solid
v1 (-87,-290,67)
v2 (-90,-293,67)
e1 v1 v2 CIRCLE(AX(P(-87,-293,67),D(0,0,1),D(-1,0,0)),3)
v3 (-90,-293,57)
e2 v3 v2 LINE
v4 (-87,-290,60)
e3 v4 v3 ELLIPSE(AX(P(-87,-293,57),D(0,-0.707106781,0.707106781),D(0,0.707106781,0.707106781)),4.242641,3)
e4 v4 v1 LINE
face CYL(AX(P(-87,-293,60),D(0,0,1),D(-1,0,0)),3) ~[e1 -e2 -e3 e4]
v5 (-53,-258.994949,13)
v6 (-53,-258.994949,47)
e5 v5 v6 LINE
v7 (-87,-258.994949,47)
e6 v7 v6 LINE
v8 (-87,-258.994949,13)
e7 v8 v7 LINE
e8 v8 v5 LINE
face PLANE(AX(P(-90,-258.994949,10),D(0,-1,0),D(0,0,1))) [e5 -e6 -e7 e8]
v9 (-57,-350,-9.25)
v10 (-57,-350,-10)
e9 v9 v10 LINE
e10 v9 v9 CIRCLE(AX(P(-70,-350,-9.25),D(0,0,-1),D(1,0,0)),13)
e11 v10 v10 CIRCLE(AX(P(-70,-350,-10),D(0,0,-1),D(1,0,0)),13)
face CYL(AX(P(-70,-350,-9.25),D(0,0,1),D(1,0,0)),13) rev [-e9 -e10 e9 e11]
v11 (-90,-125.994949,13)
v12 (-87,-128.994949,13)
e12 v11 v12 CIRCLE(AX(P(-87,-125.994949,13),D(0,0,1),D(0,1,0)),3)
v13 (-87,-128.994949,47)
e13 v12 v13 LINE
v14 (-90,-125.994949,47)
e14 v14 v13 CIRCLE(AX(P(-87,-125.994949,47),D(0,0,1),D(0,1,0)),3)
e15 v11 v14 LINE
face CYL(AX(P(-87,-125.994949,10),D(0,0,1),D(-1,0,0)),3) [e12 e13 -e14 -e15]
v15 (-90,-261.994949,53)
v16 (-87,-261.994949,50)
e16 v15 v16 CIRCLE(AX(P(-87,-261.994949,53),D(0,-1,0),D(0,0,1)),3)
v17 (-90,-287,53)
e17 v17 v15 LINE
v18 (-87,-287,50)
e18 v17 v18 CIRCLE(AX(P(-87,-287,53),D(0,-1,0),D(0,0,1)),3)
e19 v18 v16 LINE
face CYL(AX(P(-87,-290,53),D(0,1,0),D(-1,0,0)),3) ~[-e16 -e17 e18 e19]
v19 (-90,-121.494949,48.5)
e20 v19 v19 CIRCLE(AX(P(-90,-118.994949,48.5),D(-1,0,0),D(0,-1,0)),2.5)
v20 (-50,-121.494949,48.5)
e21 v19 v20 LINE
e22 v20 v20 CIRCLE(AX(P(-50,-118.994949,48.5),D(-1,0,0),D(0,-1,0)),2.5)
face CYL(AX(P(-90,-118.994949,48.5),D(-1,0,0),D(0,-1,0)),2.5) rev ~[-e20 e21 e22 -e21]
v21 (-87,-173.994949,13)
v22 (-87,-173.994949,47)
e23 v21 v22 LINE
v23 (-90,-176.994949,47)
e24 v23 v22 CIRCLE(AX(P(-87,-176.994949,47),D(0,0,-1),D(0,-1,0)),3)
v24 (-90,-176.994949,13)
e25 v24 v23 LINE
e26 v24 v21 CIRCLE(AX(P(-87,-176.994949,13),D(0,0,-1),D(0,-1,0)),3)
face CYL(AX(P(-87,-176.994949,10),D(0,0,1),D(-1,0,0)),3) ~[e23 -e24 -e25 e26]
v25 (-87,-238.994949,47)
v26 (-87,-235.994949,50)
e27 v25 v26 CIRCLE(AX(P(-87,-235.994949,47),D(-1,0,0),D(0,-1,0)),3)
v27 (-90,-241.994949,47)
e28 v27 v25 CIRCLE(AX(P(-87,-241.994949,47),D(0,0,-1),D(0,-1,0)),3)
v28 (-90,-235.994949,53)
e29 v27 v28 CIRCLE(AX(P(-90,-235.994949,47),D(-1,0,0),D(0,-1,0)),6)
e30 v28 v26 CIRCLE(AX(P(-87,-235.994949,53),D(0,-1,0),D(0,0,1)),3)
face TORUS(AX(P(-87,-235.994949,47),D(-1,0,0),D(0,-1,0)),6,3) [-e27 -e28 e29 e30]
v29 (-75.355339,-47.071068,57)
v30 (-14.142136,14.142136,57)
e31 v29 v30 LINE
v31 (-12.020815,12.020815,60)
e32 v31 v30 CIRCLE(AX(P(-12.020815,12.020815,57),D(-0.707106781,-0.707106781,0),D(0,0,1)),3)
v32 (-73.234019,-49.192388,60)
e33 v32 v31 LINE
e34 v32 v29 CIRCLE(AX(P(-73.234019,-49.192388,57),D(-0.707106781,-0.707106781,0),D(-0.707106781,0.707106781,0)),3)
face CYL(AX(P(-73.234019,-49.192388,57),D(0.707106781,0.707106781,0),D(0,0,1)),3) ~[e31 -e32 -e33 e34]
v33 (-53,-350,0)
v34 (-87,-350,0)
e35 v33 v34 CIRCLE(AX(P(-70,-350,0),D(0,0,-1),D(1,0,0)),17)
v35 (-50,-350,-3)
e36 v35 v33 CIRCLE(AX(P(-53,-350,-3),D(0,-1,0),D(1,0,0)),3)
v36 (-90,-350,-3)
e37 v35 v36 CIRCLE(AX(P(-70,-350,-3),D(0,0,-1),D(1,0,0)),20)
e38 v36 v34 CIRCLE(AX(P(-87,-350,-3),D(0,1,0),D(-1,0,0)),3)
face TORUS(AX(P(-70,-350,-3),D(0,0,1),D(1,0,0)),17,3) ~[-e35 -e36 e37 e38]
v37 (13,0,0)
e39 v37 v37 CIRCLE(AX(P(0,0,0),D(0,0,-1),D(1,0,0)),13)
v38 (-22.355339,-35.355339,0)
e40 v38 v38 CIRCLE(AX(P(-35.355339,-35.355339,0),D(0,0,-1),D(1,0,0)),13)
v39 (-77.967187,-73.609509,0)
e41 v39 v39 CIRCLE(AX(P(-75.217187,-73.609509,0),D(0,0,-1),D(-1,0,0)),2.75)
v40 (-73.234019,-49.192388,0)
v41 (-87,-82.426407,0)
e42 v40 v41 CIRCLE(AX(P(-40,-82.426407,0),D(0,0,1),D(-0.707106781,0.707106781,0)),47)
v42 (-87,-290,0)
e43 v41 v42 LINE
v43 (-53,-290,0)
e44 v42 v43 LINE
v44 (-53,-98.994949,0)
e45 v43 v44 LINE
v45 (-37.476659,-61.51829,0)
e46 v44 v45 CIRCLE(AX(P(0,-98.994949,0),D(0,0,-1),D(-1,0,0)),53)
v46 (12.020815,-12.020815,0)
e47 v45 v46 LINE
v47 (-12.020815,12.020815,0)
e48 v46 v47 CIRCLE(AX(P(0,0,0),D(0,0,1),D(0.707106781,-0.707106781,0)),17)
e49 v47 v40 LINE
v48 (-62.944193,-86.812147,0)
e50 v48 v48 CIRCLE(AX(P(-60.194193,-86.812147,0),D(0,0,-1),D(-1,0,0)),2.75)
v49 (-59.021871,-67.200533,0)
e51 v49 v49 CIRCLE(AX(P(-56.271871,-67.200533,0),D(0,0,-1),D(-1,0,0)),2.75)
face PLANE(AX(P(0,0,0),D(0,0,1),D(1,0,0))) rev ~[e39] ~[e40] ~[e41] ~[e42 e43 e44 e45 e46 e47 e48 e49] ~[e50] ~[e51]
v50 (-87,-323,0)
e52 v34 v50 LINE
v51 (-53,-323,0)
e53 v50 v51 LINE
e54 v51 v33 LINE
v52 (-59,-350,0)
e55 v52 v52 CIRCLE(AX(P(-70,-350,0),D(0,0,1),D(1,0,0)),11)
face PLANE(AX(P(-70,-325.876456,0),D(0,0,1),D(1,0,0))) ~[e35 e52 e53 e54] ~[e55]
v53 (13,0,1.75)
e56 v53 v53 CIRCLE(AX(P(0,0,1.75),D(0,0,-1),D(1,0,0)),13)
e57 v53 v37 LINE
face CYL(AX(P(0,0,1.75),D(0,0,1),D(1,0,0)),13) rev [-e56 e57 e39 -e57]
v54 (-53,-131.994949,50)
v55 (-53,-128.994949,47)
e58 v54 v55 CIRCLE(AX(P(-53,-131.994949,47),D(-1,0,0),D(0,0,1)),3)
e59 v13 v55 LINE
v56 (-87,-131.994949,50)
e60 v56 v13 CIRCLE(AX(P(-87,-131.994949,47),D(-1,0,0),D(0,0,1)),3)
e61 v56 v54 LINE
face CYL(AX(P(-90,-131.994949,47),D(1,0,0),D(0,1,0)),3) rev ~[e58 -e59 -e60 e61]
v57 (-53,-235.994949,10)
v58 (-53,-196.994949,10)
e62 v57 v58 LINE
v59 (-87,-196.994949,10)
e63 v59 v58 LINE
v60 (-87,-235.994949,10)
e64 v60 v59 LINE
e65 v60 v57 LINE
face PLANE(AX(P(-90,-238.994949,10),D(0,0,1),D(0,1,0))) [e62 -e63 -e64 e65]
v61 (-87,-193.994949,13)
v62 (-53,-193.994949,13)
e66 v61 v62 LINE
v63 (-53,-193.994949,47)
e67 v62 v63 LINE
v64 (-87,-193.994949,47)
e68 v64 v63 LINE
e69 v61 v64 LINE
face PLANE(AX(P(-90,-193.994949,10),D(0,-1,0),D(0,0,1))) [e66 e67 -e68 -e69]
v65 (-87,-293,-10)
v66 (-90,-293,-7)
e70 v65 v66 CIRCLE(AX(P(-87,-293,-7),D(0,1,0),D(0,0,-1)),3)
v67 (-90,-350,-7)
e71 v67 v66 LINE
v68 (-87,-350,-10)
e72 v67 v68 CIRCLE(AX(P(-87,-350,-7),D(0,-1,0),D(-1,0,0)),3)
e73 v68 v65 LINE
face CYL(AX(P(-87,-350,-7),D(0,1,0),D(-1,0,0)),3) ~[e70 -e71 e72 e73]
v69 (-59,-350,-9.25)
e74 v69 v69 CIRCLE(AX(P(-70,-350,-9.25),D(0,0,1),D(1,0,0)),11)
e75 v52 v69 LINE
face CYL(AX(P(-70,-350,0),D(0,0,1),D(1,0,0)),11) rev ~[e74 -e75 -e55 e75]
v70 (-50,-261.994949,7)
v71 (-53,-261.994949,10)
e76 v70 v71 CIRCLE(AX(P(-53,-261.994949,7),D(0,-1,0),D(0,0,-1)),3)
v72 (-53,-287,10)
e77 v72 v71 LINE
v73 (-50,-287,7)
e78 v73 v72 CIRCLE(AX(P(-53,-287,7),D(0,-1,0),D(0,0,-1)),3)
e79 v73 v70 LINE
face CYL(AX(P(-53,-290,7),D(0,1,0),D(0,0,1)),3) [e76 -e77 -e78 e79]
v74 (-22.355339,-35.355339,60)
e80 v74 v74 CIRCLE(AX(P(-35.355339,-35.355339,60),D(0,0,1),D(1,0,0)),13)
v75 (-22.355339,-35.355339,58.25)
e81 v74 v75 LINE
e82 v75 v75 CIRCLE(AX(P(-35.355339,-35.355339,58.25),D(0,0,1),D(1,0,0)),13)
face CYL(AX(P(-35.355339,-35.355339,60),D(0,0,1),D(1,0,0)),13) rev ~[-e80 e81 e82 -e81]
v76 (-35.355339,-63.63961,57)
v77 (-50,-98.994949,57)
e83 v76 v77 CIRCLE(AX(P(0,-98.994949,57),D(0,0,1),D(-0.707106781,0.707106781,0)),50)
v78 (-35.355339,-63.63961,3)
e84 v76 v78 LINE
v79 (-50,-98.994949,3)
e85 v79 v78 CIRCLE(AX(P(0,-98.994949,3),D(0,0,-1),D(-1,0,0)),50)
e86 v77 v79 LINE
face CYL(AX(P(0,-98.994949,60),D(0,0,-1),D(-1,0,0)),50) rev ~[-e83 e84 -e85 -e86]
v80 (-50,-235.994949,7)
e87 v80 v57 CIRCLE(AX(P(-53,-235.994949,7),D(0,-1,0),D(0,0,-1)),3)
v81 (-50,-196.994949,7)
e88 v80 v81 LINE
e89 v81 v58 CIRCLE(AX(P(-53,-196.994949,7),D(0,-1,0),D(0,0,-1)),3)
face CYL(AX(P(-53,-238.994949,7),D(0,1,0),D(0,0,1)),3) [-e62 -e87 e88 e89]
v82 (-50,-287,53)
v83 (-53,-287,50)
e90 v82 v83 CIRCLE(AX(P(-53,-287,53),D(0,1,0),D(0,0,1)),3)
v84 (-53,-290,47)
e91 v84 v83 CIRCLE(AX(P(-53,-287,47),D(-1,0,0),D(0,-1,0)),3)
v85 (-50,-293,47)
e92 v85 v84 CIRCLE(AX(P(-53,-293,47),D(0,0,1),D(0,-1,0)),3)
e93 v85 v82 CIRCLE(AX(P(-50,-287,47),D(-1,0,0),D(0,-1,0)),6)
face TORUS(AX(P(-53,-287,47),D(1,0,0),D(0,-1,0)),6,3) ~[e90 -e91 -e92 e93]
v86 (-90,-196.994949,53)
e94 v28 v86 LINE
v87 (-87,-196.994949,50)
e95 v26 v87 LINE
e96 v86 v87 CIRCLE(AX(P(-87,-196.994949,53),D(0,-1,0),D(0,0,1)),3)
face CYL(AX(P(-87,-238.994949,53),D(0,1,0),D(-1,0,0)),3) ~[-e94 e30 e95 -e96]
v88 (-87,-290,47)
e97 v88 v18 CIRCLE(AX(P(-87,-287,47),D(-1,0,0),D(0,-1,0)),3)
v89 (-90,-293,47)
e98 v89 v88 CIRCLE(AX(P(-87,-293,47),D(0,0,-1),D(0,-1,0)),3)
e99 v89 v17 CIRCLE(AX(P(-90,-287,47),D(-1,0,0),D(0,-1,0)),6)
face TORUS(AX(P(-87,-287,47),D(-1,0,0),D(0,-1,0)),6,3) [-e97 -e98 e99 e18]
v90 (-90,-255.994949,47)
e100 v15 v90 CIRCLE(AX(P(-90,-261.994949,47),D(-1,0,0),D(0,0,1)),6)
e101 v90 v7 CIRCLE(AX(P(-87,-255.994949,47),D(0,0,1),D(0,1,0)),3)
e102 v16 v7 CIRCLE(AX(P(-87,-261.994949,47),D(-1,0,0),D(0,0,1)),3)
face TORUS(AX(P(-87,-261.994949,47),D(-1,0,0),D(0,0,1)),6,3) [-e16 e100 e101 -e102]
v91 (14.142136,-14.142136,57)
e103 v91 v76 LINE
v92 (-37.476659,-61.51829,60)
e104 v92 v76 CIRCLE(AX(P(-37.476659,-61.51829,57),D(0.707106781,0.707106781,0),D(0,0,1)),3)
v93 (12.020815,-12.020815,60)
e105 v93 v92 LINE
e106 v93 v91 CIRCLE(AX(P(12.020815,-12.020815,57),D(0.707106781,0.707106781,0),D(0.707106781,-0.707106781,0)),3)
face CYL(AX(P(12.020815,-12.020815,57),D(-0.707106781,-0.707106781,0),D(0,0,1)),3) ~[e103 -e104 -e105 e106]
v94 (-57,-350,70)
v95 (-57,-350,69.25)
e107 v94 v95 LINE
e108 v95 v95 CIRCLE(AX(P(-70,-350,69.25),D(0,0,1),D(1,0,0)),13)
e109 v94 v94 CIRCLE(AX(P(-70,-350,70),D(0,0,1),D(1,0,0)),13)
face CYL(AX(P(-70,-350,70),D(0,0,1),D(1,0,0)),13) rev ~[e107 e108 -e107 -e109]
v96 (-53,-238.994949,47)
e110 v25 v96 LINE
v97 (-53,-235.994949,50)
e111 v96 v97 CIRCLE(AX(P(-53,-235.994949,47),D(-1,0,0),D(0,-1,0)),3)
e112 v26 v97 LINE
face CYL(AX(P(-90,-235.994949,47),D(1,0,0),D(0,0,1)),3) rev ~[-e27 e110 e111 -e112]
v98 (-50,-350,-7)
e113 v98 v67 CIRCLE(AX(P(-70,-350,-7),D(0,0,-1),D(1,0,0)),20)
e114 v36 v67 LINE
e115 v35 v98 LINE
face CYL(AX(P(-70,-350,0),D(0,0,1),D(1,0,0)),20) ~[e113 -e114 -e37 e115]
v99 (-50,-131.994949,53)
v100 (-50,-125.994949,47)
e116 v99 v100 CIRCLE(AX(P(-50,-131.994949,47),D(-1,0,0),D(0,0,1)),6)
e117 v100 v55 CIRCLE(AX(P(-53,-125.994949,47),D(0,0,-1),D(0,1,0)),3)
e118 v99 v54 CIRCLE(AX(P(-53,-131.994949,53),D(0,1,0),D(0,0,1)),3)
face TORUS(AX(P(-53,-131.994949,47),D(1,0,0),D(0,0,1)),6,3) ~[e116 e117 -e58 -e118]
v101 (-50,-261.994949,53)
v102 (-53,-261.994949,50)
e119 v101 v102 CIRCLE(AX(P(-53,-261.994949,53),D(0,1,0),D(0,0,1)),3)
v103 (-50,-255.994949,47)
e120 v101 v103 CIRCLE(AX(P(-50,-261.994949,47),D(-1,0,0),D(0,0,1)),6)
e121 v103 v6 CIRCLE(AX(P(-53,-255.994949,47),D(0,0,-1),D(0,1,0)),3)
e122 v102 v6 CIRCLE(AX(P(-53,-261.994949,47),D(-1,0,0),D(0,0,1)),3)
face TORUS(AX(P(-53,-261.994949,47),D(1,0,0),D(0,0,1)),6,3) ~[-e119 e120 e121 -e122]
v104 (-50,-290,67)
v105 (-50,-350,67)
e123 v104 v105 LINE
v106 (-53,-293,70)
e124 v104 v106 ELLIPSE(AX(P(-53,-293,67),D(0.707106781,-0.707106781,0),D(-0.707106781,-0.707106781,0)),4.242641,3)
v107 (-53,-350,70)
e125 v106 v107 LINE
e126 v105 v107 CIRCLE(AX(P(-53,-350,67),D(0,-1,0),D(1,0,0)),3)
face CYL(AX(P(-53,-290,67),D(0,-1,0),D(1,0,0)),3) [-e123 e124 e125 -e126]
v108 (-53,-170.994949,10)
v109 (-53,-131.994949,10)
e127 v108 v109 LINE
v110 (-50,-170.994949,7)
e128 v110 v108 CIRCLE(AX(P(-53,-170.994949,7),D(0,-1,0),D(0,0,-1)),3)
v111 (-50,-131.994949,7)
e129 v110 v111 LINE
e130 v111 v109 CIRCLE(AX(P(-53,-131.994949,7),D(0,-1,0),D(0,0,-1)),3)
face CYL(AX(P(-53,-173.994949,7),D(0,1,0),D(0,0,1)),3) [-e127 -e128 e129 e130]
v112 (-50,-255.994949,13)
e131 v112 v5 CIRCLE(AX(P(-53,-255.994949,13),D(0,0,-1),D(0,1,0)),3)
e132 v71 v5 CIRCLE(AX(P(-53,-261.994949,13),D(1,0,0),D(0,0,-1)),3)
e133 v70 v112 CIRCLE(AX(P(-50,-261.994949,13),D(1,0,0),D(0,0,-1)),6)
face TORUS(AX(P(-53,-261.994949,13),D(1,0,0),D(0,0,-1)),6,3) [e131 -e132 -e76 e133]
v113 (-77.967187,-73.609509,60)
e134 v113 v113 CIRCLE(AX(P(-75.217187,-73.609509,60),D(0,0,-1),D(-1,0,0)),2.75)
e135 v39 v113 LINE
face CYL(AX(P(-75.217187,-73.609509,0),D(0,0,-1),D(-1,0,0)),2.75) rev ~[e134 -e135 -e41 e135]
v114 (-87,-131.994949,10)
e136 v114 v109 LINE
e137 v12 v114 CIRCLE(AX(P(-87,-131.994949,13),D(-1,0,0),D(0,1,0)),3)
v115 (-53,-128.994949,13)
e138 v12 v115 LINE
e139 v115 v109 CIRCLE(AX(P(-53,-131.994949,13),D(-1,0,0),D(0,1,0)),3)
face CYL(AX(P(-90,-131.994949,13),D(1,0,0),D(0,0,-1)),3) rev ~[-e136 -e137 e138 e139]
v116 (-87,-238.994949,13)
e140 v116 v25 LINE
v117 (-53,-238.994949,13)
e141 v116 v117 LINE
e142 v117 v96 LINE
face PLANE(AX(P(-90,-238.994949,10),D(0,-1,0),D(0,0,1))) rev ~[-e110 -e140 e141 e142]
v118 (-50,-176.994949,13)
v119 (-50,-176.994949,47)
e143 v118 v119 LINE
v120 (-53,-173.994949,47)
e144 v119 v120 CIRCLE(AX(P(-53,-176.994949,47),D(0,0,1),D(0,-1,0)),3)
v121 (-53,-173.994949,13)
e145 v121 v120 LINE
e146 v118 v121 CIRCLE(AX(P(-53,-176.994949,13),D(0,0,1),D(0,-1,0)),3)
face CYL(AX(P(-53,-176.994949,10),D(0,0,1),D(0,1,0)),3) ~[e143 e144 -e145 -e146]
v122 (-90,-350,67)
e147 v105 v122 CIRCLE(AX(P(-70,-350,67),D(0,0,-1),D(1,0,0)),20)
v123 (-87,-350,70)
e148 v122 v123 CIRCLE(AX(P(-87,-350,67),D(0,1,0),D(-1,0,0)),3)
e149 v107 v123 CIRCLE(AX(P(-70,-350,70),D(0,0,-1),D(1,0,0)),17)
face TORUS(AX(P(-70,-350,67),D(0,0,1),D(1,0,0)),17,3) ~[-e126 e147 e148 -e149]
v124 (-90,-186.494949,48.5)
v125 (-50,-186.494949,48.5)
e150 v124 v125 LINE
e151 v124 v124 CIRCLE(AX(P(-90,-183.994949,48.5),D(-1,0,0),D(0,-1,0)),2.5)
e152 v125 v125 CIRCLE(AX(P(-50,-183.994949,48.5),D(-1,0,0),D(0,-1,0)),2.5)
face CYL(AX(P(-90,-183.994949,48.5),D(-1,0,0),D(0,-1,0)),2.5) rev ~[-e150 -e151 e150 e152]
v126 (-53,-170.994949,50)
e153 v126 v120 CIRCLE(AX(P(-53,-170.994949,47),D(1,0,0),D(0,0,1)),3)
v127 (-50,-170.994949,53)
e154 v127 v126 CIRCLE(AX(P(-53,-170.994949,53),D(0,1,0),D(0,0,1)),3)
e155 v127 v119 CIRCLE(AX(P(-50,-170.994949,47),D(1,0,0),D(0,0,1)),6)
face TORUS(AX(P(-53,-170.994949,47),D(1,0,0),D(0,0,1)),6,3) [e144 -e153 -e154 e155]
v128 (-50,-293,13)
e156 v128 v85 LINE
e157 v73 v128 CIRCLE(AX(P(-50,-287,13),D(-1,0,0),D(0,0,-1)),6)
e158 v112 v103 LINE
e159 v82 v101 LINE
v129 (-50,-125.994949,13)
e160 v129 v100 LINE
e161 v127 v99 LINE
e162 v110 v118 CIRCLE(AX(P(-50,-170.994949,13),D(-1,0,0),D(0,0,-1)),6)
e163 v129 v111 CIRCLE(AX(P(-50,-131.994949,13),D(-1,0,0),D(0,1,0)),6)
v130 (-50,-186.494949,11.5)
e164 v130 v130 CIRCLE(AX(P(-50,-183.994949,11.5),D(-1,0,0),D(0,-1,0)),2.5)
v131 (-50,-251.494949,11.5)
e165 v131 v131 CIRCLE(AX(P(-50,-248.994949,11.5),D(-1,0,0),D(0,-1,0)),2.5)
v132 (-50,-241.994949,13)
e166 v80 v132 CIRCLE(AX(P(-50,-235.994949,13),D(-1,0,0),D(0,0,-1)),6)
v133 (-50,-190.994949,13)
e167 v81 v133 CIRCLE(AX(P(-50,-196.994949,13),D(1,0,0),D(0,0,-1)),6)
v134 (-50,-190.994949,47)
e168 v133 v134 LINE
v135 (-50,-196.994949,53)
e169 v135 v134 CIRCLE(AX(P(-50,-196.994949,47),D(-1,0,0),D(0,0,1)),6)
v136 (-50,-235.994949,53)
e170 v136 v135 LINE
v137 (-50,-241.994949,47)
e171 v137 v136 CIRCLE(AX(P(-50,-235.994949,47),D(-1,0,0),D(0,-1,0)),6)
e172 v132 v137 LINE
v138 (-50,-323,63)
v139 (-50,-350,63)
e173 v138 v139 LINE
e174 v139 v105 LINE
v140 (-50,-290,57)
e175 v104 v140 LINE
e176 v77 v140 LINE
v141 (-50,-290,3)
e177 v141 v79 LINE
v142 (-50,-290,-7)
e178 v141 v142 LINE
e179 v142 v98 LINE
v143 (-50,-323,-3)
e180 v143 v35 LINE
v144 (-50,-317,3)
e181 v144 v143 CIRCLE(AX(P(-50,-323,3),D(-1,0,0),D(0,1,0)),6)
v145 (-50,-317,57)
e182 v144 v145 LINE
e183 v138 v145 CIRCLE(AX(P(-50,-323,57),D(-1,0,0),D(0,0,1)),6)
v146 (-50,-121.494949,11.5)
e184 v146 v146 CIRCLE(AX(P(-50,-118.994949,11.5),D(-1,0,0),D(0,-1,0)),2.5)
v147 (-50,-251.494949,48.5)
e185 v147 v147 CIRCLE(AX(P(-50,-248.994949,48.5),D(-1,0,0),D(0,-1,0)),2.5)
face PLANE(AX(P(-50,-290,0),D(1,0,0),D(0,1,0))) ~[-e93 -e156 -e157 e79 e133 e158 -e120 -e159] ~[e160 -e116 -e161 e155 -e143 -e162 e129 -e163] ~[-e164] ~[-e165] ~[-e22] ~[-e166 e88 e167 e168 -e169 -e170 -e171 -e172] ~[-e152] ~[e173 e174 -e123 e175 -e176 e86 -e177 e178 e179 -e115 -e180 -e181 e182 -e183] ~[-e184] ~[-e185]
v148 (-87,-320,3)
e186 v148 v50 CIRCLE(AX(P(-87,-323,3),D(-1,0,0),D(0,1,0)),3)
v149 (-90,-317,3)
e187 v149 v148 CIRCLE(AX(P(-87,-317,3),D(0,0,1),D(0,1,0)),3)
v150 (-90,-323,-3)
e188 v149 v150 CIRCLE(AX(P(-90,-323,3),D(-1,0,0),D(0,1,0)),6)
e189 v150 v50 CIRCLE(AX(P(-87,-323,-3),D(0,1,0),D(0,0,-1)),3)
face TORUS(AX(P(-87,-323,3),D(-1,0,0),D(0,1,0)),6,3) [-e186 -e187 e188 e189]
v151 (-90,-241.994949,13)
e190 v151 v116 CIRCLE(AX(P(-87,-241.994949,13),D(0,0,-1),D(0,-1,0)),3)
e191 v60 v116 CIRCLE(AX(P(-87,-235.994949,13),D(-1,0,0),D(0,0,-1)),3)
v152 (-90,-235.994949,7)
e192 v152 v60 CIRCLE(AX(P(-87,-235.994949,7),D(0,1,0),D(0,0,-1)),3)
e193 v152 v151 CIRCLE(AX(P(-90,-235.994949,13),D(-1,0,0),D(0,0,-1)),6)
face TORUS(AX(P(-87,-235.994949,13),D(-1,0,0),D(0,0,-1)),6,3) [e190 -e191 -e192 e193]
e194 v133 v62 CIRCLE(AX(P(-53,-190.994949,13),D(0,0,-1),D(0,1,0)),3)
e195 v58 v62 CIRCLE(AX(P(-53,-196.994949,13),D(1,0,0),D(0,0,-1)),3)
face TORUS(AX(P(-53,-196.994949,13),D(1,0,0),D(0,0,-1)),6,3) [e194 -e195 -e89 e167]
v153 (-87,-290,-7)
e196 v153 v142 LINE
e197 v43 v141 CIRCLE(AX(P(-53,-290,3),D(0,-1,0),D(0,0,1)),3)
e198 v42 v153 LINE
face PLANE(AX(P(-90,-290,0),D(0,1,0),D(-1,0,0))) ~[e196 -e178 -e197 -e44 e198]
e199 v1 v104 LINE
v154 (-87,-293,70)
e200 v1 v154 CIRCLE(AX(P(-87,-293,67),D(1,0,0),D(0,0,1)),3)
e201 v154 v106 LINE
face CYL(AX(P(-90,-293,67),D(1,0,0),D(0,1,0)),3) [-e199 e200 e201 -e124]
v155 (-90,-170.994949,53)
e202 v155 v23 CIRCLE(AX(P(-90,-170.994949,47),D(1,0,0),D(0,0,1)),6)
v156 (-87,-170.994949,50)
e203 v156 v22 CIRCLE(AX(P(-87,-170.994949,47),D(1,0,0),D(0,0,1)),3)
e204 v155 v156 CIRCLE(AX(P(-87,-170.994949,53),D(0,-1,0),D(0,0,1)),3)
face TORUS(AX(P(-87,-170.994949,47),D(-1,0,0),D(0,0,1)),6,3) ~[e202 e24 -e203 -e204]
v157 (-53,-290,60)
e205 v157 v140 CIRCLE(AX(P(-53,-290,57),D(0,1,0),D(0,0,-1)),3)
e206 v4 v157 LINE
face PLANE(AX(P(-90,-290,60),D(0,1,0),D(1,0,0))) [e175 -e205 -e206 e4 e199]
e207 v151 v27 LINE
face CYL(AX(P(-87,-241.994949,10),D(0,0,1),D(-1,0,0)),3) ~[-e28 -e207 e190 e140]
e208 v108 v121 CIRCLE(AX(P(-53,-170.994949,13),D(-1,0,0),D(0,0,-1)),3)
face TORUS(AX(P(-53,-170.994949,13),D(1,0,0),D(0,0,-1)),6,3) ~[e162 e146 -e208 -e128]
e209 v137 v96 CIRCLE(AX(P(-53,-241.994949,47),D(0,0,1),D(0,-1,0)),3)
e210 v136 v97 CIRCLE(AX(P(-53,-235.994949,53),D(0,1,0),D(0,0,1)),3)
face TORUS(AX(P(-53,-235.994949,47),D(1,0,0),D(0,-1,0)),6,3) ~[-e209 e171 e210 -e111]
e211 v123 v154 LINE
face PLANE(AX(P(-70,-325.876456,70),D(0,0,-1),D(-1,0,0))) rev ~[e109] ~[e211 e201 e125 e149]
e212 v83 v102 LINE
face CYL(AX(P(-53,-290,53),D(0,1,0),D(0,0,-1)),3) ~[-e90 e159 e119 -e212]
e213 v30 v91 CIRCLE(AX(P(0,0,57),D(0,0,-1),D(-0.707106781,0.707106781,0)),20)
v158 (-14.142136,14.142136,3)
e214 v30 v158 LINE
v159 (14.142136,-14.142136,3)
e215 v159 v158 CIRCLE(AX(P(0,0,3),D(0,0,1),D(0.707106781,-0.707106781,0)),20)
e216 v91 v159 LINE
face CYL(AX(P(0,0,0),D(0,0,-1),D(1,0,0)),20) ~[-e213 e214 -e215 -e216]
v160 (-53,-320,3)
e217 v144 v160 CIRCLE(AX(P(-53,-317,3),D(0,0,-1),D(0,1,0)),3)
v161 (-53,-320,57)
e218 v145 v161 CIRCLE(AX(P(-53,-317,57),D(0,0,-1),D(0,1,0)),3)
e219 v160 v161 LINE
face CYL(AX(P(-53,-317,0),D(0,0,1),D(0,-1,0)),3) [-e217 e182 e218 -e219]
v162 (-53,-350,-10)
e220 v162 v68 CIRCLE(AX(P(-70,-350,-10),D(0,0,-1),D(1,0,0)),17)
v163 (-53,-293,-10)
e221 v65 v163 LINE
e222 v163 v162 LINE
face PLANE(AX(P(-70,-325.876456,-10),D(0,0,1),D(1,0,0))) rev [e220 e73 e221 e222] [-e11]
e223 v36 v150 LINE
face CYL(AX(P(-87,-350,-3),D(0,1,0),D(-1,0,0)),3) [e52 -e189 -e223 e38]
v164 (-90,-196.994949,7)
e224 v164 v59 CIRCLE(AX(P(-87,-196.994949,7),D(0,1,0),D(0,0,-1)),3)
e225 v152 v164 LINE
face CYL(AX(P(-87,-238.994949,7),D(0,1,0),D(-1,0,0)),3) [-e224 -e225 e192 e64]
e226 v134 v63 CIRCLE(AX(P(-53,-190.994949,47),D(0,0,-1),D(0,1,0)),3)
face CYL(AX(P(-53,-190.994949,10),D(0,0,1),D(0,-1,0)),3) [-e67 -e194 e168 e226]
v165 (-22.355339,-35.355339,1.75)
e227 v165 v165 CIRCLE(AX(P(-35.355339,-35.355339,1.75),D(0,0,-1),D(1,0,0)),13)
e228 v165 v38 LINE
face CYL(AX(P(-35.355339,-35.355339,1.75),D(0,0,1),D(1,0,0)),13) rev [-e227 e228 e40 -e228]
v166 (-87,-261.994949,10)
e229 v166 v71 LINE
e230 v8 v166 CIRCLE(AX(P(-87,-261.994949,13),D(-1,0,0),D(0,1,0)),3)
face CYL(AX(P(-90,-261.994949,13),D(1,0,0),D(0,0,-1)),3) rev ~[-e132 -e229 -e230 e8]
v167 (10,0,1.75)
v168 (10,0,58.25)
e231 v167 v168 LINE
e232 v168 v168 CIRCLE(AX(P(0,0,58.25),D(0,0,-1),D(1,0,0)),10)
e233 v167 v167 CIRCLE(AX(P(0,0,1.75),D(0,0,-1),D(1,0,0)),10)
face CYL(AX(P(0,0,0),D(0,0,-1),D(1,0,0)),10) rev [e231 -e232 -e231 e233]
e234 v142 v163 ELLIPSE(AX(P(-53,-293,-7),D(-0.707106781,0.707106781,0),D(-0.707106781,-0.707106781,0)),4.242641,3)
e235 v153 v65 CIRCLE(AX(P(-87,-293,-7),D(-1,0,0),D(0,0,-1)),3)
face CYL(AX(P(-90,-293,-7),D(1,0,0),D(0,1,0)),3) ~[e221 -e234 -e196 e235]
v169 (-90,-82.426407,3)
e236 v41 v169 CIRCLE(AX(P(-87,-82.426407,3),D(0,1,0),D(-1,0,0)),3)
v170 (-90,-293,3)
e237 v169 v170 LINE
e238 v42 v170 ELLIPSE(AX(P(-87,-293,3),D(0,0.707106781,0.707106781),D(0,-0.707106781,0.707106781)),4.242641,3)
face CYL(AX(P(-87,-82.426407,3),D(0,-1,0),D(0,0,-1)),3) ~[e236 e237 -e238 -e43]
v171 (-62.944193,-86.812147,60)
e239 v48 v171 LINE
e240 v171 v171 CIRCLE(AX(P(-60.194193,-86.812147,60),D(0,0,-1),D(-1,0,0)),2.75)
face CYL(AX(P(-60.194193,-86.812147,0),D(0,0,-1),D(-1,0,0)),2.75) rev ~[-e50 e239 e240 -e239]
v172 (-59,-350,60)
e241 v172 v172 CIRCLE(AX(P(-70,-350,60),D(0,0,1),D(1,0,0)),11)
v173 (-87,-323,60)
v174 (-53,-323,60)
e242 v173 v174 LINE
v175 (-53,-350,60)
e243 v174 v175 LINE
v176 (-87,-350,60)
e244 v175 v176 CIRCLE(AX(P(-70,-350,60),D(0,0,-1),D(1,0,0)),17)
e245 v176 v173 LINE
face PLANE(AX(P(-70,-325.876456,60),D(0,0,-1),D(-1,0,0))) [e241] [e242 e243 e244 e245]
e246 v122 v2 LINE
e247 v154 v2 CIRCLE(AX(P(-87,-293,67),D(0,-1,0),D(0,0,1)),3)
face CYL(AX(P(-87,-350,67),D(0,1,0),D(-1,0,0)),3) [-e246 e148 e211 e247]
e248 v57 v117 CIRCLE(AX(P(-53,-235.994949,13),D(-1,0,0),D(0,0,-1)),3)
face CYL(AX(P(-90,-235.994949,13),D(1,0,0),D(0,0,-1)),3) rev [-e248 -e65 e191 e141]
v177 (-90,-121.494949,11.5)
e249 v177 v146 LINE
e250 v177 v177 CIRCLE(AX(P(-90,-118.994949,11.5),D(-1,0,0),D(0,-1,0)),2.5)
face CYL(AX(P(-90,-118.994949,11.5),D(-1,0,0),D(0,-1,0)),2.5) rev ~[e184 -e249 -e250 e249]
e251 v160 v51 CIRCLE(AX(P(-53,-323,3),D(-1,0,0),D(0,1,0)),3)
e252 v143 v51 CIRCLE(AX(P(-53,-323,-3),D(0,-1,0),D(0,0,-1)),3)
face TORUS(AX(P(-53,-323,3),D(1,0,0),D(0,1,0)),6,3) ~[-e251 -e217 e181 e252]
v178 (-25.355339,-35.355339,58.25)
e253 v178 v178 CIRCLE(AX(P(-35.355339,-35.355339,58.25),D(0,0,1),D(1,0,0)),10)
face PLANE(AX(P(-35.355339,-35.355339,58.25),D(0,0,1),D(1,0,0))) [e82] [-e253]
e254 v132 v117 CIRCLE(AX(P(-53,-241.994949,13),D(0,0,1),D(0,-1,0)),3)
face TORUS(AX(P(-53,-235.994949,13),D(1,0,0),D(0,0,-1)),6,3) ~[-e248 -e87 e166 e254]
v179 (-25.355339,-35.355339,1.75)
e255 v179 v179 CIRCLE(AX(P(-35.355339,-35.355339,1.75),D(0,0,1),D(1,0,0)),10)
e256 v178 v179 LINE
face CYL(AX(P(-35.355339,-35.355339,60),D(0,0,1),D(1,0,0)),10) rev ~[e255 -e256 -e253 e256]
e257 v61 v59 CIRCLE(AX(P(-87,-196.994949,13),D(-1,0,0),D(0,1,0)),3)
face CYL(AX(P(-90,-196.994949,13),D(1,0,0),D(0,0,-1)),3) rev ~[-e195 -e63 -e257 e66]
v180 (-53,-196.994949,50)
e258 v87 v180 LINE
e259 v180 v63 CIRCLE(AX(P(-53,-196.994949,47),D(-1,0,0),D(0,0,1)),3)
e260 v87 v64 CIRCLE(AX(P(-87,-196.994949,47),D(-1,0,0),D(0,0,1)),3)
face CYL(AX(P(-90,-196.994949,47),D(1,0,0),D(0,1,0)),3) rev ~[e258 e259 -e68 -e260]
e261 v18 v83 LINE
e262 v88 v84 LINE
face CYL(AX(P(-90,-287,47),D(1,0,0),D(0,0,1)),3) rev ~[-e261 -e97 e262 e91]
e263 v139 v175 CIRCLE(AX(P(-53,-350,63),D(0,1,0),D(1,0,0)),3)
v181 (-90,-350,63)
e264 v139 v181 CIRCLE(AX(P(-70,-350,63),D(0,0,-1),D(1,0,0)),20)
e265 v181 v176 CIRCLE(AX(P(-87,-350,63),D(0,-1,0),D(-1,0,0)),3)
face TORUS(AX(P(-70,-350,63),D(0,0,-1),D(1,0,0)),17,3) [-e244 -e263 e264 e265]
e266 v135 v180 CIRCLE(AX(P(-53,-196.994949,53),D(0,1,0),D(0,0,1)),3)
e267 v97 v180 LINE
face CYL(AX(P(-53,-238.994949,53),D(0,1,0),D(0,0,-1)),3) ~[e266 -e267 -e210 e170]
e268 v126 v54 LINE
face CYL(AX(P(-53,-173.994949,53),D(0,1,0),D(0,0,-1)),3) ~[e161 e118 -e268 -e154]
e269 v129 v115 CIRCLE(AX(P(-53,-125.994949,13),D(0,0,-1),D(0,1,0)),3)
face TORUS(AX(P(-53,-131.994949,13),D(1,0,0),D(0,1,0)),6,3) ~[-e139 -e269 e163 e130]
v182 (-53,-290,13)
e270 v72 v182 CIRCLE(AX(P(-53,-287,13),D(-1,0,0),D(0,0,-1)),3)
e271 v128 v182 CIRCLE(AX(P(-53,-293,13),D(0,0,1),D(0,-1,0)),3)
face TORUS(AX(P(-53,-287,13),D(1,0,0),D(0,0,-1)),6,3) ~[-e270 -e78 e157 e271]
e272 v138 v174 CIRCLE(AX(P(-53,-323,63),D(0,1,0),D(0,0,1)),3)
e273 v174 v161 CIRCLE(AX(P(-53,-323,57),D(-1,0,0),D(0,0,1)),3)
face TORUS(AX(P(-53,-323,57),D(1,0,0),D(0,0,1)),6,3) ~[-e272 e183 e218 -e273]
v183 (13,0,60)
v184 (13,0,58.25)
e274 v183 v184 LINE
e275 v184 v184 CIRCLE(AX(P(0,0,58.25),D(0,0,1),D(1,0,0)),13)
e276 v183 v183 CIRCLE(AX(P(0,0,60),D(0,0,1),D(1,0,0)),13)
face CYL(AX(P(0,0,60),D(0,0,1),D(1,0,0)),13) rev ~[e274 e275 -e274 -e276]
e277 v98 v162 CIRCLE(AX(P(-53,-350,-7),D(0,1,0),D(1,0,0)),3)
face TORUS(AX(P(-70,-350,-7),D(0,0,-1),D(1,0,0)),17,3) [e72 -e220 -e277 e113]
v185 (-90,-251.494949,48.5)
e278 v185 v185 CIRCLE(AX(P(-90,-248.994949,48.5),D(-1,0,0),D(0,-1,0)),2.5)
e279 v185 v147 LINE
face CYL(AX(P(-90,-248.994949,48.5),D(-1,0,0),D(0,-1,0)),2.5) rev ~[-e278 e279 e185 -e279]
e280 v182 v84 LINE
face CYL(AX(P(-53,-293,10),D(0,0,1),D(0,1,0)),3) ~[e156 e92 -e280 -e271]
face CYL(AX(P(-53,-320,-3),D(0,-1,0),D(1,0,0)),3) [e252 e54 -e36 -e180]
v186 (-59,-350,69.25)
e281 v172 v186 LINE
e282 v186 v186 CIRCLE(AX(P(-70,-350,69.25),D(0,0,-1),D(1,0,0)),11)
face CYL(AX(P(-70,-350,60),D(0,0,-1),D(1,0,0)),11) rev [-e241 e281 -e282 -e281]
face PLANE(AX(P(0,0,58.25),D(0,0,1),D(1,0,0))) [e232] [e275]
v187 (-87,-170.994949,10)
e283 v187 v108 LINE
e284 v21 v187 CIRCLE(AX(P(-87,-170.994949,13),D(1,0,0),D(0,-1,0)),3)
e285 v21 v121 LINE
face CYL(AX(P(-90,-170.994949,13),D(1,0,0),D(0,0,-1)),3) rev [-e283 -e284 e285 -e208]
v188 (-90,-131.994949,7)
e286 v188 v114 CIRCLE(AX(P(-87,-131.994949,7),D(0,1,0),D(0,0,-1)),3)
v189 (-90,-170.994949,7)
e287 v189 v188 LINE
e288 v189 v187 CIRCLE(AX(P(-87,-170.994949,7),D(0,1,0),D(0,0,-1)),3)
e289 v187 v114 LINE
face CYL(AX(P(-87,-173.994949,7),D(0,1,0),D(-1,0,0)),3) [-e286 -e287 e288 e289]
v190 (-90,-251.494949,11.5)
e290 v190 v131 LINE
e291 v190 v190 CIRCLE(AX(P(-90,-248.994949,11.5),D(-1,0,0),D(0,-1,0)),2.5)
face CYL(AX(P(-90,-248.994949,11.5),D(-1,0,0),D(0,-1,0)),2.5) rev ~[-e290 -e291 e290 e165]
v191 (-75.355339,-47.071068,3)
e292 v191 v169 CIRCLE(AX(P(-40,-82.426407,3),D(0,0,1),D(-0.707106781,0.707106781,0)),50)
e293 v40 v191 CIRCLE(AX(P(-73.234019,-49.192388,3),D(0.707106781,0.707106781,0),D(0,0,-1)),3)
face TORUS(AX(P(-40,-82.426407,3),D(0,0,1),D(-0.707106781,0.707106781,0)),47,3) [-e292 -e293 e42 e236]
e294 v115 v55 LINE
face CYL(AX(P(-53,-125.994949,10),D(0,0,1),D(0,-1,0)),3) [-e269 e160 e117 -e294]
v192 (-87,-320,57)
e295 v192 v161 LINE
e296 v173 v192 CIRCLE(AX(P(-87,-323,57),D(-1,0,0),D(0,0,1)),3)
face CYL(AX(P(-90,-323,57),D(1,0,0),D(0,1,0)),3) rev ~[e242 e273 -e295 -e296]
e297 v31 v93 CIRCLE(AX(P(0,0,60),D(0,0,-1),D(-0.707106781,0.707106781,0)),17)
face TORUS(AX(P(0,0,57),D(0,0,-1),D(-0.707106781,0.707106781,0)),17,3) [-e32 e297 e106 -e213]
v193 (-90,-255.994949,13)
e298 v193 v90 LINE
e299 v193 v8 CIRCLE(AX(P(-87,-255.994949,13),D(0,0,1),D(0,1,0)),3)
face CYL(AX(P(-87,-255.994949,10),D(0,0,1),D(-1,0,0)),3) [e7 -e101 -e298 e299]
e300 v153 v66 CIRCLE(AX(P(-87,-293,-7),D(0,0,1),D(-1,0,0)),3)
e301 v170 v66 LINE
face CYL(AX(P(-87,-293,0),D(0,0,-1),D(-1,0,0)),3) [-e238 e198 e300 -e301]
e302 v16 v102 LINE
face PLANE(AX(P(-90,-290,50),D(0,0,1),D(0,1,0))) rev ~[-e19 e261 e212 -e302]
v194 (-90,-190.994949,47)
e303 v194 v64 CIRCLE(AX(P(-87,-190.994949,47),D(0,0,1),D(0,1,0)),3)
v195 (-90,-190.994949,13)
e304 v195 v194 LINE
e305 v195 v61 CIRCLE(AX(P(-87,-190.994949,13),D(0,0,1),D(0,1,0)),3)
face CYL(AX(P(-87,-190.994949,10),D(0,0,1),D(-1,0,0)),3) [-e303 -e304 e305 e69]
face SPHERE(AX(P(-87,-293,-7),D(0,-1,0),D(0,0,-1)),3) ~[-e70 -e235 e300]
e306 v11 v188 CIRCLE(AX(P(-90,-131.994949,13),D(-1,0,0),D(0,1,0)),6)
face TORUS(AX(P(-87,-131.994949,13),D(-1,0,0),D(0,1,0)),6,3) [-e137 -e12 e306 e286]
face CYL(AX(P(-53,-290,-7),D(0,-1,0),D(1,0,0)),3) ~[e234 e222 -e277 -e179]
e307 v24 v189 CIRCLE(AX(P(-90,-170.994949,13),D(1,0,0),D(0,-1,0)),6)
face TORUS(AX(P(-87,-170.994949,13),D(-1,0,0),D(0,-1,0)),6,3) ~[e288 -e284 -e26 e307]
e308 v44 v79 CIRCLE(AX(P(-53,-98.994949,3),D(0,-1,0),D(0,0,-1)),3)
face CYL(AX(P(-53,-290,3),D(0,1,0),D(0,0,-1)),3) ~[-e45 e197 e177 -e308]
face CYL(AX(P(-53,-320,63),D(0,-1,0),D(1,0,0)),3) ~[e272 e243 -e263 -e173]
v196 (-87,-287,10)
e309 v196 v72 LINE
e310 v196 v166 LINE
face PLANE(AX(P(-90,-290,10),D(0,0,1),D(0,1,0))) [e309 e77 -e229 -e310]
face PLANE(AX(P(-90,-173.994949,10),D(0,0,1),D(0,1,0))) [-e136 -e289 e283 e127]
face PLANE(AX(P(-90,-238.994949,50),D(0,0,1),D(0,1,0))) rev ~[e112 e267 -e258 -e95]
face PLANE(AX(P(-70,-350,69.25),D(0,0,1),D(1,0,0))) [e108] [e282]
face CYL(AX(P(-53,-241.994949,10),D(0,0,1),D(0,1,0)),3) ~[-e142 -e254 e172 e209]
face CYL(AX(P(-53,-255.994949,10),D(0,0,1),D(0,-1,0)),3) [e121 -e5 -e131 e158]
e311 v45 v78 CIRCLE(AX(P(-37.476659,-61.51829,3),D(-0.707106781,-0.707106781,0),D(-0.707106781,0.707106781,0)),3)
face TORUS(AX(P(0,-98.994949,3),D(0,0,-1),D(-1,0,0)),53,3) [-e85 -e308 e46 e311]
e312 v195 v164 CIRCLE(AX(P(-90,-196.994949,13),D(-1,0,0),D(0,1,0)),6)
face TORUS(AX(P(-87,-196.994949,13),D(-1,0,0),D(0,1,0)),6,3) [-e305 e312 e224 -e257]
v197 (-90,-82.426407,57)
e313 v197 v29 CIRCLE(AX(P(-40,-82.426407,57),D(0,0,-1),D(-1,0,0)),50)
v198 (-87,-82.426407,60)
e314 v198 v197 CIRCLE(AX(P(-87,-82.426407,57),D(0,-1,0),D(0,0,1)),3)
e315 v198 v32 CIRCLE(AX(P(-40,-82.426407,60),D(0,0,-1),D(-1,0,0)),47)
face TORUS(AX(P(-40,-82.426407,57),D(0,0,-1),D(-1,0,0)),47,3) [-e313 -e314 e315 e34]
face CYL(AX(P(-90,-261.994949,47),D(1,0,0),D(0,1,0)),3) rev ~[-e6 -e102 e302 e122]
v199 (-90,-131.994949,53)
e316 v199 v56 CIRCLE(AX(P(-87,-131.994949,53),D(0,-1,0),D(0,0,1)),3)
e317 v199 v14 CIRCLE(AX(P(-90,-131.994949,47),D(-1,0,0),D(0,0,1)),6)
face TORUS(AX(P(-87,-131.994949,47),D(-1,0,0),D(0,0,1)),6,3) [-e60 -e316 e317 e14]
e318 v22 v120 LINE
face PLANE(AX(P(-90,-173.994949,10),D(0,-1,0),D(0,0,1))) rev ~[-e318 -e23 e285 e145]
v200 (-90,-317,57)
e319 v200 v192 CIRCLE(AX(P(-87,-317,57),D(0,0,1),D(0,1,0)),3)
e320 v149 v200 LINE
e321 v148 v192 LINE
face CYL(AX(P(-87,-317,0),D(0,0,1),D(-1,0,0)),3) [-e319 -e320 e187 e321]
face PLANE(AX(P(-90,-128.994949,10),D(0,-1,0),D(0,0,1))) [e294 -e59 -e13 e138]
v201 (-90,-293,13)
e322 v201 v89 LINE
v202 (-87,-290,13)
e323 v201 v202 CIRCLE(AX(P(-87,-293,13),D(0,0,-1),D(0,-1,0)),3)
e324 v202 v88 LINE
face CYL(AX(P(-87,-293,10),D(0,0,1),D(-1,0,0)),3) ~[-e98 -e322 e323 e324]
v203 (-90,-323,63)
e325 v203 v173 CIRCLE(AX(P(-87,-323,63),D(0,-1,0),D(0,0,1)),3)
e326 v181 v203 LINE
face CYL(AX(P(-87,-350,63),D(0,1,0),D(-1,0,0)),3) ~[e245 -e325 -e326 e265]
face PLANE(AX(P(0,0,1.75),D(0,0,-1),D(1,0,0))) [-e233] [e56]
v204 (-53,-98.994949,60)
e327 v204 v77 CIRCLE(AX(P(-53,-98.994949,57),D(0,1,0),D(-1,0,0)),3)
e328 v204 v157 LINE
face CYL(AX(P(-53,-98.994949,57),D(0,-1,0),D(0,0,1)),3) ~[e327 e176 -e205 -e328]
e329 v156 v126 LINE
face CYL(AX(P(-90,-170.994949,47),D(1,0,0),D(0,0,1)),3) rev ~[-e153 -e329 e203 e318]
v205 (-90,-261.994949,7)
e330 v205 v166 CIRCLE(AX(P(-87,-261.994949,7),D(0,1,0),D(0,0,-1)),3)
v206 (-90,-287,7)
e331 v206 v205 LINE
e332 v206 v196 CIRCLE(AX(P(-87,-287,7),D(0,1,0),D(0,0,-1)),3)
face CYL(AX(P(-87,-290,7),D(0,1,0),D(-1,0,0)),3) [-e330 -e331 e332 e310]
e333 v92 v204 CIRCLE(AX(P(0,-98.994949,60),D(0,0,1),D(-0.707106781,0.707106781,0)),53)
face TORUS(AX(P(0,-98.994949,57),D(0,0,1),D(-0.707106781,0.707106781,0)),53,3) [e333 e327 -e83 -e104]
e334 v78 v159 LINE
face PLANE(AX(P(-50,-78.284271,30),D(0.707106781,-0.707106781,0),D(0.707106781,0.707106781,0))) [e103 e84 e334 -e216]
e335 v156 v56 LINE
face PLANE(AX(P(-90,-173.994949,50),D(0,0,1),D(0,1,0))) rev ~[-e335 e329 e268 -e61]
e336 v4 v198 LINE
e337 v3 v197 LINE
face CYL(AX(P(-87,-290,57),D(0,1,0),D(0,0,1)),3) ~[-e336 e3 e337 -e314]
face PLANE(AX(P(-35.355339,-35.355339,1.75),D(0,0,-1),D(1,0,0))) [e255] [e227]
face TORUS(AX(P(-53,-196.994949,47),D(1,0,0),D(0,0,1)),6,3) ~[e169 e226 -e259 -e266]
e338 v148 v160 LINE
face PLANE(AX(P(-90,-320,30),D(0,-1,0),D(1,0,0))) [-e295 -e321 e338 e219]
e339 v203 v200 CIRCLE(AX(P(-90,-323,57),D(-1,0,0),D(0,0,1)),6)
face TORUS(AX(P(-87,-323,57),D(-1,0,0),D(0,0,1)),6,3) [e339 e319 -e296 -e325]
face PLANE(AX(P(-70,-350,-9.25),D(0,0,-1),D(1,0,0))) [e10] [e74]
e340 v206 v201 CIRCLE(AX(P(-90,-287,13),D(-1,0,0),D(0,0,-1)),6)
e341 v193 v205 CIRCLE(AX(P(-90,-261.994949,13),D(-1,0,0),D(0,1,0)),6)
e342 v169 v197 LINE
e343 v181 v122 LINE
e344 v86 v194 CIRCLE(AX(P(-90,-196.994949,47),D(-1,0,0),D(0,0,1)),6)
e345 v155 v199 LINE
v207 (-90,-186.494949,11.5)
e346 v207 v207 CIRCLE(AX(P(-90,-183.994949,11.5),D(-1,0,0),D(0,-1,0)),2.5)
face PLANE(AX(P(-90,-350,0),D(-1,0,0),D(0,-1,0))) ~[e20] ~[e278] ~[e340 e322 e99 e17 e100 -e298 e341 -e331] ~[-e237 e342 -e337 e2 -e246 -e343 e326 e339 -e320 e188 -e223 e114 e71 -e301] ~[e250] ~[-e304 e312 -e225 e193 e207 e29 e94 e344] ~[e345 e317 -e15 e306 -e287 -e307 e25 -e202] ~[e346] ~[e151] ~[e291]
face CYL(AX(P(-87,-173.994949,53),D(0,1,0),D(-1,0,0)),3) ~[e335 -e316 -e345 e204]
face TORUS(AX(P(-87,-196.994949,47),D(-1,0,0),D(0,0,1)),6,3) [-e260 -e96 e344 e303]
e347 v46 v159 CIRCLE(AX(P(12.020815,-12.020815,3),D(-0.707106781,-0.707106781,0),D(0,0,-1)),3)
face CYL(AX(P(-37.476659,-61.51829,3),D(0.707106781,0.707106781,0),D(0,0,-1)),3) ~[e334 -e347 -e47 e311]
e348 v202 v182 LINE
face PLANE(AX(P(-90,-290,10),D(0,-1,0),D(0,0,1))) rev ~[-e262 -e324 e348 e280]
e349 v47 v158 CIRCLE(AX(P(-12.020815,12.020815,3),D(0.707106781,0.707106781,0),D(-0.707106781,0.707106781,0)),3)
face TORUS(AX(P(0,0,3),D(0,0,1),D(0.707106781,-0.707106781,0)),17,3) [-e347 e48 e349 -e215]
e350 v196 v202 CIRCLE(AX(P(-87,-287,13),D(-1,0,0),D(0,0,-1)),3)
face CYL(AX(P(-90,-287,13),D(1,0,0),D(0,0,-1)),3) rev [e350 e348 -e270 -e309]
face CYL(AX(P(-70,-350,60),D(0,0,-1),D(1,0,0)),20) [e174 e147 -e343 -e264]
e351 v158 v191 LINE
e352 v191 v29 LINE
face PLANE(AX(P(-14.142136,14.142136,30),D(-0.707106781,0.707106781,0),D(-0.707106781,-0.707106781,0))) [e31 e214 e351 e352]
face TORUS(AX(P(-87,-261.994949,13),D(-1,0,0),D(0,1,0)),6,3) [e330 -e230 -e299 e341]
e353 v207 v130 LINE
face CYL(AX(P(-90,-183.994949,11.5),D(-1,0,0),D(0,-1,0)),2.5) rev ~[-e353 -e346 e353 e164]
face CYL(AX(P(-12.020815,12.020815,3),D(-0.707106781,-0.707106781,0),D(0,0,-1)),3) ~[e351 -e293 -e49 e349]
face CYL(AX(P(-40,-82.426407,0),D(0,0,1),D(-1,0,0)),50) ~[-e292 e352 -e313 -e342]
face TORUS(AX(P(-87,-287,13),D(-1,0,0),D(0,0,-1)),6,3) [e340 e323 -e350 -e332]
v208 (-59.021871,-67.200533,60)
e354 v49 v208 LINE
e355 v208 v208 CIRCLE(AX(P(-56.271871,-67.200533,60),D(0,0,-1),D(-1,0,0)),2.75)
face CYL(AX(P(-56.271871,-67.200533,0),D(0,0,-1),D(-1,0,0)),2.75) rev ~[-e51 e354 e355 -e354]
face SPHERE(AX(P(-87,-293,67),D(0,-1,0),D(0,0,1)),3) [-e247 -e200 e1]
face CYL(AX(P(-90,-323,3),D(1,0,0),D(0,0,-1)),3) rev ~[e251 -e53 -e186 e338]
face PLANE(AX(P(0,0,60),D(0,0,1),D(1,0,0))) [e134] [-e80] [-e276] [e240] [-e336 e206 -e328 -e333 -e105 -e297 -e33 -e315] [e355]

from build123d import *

# Parameters (mm, degrees)
SKETCH_1_R             = 20
SKETCH_1_R_2           = 10
EXTRUDE_1_DEPTH        = 60
EXTRUDE_2_DEPTH        = 30
SKETCH_4_R             = 11
EXTRUDE_3_DEPTH        = 10
SKETCH_8_R             = 10
CUT_EXTRUDE_1_DEPTH    = 100
FILLET_1_R             = 50
FILLET_2_R             = 3
SKETCH_9_R             = 13
CUT_EXTRUDE_2_DEPTH    = 0.75
CUT_EXTRUDE_START      = -0.75
SKETCH_10_R            = 13
CUT_EXTRUDE_3_DEPTH    = 0.75
SKETCH_11_R            = 2.5
CUT_EXTRUDE_4_DEPTH    = 393.300904947
SKETCH_12_W            = 40
SKETCH_12_H            = 45
SKETCH_12_H_2          = 31.005050634
CUT_EXTRUDE_5428_DEPTH = 393.300904947
FILLET_3_R             = 3
SKETCH_13_R            = 13
CUT_EXTRUDE_6_DEPTH    = 1.75
CUT_EXTRUDE_START_2    = -1.75
SKETCH_14_R            = 13
CUT_EXTRUDE_7_DEPTH    = 1.75
SKETCH_15_R            = 2.75
CUT_EXTRUDE_8_DEPTH    = 388.169213652


with BuildPart() as part:
    # 草图1 → 凸台-拉伸1 (new body)
    with BuildSketch(Plane.XY):
        Circle(SKETCH_1_R)
        Circle(SKETCH_1_R_2, mode=Mode.SUBTRACT)
    extrude(amount=EXTRUDE_1_DEPTH)

    # 草图2 → 凸台-拉伸2 (add, symmetric)
    with BuildSketch(Plane.XY.offset(30)):
        with BuildLine():
            Line((-14.142135624, 14.142135624), (-90, -61.715728753))
            Line((-90, -61.715728753), (-90, -320))
            Line((-90, -320), (-50, -320))
            Line((-50, -320), (-50, -78.284271247))
            Line((-50, -78.284271247), (14.142135624, -14.142135624))
            ThreePointArc((14.142135624, -14.142135624), (-14.142135624, -14.142135624), (-14.142135624, 14.142135624))
        make_face()
    extrude(amount=EXTRUDE_2_DEPTH, both=True)

    # 草图4 → 凸台-拉伸3 (add)
    with BuildSketch(Plane.XY.offset(60)):
        with BuildLine():
            Line((-90, -290), (-50, -290))
            Line((-50, -290), (-50, -350))
            ThreePointArc((-50, -350), (-70, -370), (-90, -350))
            Line((-90, -350), (-90, -290))
        make_face()
        with Locations((-70, -350)):
            Circle(SKETCH_4_R, mode=Mode.SUBTRACT)
    extrude_3 = extrude(amount=EXTRUDE_3_DEPTH)

    # 镜向1: 凸台-拉伸3 across plane
    add(extrude_3.mirror(Plane.XY.offset(30)))

    # 草图8 → 切除-拉伸1 (cut)
    with BuildSketch(Plane.XY.offset(60)):
        with Locations((-35.355339059, -35.355339059)):
            Circle(SKETCH_8_R)
    extrude(amount=-CUT_EXTRUDE_1_DEPTH, mode=Mode.SUBTRACT)

    # 圆角1
    fillet_1_edges = [part.edges().sort_by_distance(p)[0] for p in [
        (-50, -78.284271247, 30),
        (-90, -61.715728753, 30),
    ]]
    fillet(fillet_1_edges, radius=FILLET_1_R)

    # 圆角2
    fillet_2_edges = [part.edges().sort_by_distance(p)[0] for p in [
        (14.142135624, 14.142135624, 60),
        (14.142135624, 14.142135624, 0),
        (-10.606601718, -38.890872965, 60),
        (-44.748737342, -16.464466094, 0),
        (-70, -320, 0),
        (-90, -320, 30),
        (-50, -320, 30),
        (-44.748737342, -16.464466094, 60),
        (-70, -320, 60),
        (-10.606601718, -38.890872965, 0),
        (-90, -320, 70),
        (-70, -370, 70),
        (-50, -320, 70),
        (-70, -290, 70),
        (-90, -335, 60),
        (-90, -290, 65),
        (-70, -370, 60),
        (-50, -335, 60),
        (-90, -320, -10),
        (-70, -290, -10),
        (-90, -290, -5),
        (-50, -320, -10),
        (-70, -370, -10),
        (-90, -335, 0),
        (-70, -370, 0),
        (-50, -335, 0),
        (-90, -186.213203436, 0),
        (-90, -186.213203436, 60),
        (-50, -194.497474683, 0),
        (-86.193976626, -63.292235253, 0),
        (-50, -194.497474683, 60),
        (-86.193976626, -63.292235253, 60),
        (-46.193976626, -79.860777748, 0),
        (-46.193976626, -79.860777748, 60),
    ]]
    fillet(fillet_2_edges, radius=FILLET_2_R)

    # 草图9 → 切除-拉伸2 (cut)
    with BuildSketch(Plane.XY.offset(70)):
        with Locations((-70, -350)):
            Circle(SKETCH_9_R)
    extrude(amount=-CUT_EXTRUDE_2_DEPTH, mode=Mode.SUBTRACT)

    # 草图10 → 切除-拉伸3 (cut)
    with BuildSketch(Plane(origin=(0, 0, -10), x_dir=(-1, 0, 0), z_dir=(0, 0, -1)).offset(CUT_EXTRUDE_START)):
        with Locations(Location((70, -350, 0), (0, 0, 180))):
            Circle(SKETCH_10_R)
    extrude(amount=CUT_EXTRUDE_3_DEPTH, mode=Mode.SUBTRACT)

    # 草图11 → 切除-拉伸4 (cut, through all)
    with BuildSketch(Plane.ZY.offset(90)):
        with Locations(Location((48.5, -183.994949366, 0), (0, 0, 270))):
            Circle(SKETCH_11_R)
        with Locations(Location((48.5, -248.994949366, 0), (0, 0, 270))):
            Circle(SKETCH_11_R)
        with Locations(Location((48.5, -118.994949366, 0), (0, 0, 270))):
            Circle(SKETCH_11_R)
        with Locations(Location((11.5, -248.994949366, 0), (0, 0, 270))):
            Circle(SKETCH_11_R)
        with Locations(Location((11.5, -183.994949366, 0), (0, 0, 270))):
            Circle(SKETCH_11_R)
        with Locations(Location((11.5, -118.994949366, 0), (0, 0, 270))):
            Circle(SKETCH_11_R)
    extrude(amount=-CUT_EXTRUDE_4_DEPTH, mode=Mode.SUBTRACT)

    # 草图12 → Cut-Extrude 5428 (cut, through all)
    with BuildSketch(Plane.ZY.offset(90)):
        with Locations((30, -151.494949366)):
            Rectangle(SKETCH_12_W, SKETCH_12_H)
        with Locations((30, -216.494949366)):
            Rectangle(SKETCH_12_W, SKETCH_12_H)
        with Locations((30, -274.497474683)):
            Rectangle(SKETCH_12_W, SKETCH_12_H_2)
    extrude(amount=-CUT_EXTRUDE_5428_DEPTH, mode=Mode.SUBTRACT)

    # 圆角3
    fillet_3_edges = [part.edges().sort_by_distance(p)[0] for p in [
        (-50, -216.494949366, 10),
        (-50, -238.994949366, 30),
        (-50, -216.494949366, 50),
        (-50, -193.994949366, 30),
        (-50, -274.497474683, 10),
        (-50, -290, 30),
        (-50, -274.497474683, 50),
        (-50, -258.994949366, 30),
        (-50, -151.494949366, 50),
        (-50, -128.994949366, 30),
        (-50, -151.494949366, 10),
        (-50, -173.994949366, 30),
        (-70, -173.994949366, 50),
        (-70, -173.994949366, 10),
        (-70, -128.994949366, 10),
        (-90, -128.994949366, 30),
        (-70, -128.994949366, 50),
        (-90, -151.494949366, 50),
        (-90, -173.994949366, 30),
        (-90, -151.494949366, 10),
        (-70, -258.994949366, 10),
        (-90, -258.994949366, 30),
        (-70, -258.994949366, 50),
        (-90, -274.497474683, 50),
        (-70, -290, 50),
        (-70, -290, 10),
        (-90, -274.497474683, 10),
        (-90, -290, 30),
        (-70, -193.994949366, 10),
        (-90, -193.994949366, 30),
        (-70, -193.994949366, 50),
        (-90, -216.494949366, 50),
        (-70, -238.994949366, 50),
        (-70, -238.994949366, 10),
        (-90, -216.494949366, 10),
        (-90, -238.994949366, 30),
    ]]
    fillet(fillet_3_edges, radius=FILLET_3_R)

    # 草图13 → 切除-拉伸6 (cut)
    with BuildSketch(Plane.XY.offset(60)):
        Circle(SKETCH_13_R)
        with Locations((-35.355339059, -35.355339059)):
            Circle(SKETCH_13_R)
    extrude(amount=-CUT_EXTRUDE_6_DEPTH, mode=Mode.SUBTRACT)

    # 草图14 → 切除-拉伸7 (cut)
    with BuildSketch(Plane(origin=(0, 0, 0), x_dir=(-1, 0, 0), z_dir=(0, 0, -1)).offset(CUT_EXTRUDE_START_2)):
        with Locations(Location((0, 0, 0), (0, 0, 180))):
            Circle(SKETCH_14_R)
        with Locations(Location((35.355339059, -35.355339059, 0), (0, 0, 180))):
            Circle(SKETCH_14_R)
    extrude(amount=CUT_EXTRUDE_7_DEPTH, mode=Mode.SUBTRACT)

    # 草图15 → 切除-拉伸8 (cut, through all)
    with BuildSketch(Plane(origin=(0, 0, 0), x_dir=(-1, 0, 0), z_dir=(0, 0, -1))):
        with Locations((60.194193243, -86.812146645)):
            Circle(SKETCH_15_R)
        with Locations((56.27187054, -67.200533131)):
            Circle(SKETCH_15_R)
        with Locations((75.217187404, -73.609508785)):
            Circle(SKETCH_15_R)
    extrude(amount=-CUT_EXTRUDE_8_DEPTH, mode=Mode.SUBTRACT)


solid = part.part
